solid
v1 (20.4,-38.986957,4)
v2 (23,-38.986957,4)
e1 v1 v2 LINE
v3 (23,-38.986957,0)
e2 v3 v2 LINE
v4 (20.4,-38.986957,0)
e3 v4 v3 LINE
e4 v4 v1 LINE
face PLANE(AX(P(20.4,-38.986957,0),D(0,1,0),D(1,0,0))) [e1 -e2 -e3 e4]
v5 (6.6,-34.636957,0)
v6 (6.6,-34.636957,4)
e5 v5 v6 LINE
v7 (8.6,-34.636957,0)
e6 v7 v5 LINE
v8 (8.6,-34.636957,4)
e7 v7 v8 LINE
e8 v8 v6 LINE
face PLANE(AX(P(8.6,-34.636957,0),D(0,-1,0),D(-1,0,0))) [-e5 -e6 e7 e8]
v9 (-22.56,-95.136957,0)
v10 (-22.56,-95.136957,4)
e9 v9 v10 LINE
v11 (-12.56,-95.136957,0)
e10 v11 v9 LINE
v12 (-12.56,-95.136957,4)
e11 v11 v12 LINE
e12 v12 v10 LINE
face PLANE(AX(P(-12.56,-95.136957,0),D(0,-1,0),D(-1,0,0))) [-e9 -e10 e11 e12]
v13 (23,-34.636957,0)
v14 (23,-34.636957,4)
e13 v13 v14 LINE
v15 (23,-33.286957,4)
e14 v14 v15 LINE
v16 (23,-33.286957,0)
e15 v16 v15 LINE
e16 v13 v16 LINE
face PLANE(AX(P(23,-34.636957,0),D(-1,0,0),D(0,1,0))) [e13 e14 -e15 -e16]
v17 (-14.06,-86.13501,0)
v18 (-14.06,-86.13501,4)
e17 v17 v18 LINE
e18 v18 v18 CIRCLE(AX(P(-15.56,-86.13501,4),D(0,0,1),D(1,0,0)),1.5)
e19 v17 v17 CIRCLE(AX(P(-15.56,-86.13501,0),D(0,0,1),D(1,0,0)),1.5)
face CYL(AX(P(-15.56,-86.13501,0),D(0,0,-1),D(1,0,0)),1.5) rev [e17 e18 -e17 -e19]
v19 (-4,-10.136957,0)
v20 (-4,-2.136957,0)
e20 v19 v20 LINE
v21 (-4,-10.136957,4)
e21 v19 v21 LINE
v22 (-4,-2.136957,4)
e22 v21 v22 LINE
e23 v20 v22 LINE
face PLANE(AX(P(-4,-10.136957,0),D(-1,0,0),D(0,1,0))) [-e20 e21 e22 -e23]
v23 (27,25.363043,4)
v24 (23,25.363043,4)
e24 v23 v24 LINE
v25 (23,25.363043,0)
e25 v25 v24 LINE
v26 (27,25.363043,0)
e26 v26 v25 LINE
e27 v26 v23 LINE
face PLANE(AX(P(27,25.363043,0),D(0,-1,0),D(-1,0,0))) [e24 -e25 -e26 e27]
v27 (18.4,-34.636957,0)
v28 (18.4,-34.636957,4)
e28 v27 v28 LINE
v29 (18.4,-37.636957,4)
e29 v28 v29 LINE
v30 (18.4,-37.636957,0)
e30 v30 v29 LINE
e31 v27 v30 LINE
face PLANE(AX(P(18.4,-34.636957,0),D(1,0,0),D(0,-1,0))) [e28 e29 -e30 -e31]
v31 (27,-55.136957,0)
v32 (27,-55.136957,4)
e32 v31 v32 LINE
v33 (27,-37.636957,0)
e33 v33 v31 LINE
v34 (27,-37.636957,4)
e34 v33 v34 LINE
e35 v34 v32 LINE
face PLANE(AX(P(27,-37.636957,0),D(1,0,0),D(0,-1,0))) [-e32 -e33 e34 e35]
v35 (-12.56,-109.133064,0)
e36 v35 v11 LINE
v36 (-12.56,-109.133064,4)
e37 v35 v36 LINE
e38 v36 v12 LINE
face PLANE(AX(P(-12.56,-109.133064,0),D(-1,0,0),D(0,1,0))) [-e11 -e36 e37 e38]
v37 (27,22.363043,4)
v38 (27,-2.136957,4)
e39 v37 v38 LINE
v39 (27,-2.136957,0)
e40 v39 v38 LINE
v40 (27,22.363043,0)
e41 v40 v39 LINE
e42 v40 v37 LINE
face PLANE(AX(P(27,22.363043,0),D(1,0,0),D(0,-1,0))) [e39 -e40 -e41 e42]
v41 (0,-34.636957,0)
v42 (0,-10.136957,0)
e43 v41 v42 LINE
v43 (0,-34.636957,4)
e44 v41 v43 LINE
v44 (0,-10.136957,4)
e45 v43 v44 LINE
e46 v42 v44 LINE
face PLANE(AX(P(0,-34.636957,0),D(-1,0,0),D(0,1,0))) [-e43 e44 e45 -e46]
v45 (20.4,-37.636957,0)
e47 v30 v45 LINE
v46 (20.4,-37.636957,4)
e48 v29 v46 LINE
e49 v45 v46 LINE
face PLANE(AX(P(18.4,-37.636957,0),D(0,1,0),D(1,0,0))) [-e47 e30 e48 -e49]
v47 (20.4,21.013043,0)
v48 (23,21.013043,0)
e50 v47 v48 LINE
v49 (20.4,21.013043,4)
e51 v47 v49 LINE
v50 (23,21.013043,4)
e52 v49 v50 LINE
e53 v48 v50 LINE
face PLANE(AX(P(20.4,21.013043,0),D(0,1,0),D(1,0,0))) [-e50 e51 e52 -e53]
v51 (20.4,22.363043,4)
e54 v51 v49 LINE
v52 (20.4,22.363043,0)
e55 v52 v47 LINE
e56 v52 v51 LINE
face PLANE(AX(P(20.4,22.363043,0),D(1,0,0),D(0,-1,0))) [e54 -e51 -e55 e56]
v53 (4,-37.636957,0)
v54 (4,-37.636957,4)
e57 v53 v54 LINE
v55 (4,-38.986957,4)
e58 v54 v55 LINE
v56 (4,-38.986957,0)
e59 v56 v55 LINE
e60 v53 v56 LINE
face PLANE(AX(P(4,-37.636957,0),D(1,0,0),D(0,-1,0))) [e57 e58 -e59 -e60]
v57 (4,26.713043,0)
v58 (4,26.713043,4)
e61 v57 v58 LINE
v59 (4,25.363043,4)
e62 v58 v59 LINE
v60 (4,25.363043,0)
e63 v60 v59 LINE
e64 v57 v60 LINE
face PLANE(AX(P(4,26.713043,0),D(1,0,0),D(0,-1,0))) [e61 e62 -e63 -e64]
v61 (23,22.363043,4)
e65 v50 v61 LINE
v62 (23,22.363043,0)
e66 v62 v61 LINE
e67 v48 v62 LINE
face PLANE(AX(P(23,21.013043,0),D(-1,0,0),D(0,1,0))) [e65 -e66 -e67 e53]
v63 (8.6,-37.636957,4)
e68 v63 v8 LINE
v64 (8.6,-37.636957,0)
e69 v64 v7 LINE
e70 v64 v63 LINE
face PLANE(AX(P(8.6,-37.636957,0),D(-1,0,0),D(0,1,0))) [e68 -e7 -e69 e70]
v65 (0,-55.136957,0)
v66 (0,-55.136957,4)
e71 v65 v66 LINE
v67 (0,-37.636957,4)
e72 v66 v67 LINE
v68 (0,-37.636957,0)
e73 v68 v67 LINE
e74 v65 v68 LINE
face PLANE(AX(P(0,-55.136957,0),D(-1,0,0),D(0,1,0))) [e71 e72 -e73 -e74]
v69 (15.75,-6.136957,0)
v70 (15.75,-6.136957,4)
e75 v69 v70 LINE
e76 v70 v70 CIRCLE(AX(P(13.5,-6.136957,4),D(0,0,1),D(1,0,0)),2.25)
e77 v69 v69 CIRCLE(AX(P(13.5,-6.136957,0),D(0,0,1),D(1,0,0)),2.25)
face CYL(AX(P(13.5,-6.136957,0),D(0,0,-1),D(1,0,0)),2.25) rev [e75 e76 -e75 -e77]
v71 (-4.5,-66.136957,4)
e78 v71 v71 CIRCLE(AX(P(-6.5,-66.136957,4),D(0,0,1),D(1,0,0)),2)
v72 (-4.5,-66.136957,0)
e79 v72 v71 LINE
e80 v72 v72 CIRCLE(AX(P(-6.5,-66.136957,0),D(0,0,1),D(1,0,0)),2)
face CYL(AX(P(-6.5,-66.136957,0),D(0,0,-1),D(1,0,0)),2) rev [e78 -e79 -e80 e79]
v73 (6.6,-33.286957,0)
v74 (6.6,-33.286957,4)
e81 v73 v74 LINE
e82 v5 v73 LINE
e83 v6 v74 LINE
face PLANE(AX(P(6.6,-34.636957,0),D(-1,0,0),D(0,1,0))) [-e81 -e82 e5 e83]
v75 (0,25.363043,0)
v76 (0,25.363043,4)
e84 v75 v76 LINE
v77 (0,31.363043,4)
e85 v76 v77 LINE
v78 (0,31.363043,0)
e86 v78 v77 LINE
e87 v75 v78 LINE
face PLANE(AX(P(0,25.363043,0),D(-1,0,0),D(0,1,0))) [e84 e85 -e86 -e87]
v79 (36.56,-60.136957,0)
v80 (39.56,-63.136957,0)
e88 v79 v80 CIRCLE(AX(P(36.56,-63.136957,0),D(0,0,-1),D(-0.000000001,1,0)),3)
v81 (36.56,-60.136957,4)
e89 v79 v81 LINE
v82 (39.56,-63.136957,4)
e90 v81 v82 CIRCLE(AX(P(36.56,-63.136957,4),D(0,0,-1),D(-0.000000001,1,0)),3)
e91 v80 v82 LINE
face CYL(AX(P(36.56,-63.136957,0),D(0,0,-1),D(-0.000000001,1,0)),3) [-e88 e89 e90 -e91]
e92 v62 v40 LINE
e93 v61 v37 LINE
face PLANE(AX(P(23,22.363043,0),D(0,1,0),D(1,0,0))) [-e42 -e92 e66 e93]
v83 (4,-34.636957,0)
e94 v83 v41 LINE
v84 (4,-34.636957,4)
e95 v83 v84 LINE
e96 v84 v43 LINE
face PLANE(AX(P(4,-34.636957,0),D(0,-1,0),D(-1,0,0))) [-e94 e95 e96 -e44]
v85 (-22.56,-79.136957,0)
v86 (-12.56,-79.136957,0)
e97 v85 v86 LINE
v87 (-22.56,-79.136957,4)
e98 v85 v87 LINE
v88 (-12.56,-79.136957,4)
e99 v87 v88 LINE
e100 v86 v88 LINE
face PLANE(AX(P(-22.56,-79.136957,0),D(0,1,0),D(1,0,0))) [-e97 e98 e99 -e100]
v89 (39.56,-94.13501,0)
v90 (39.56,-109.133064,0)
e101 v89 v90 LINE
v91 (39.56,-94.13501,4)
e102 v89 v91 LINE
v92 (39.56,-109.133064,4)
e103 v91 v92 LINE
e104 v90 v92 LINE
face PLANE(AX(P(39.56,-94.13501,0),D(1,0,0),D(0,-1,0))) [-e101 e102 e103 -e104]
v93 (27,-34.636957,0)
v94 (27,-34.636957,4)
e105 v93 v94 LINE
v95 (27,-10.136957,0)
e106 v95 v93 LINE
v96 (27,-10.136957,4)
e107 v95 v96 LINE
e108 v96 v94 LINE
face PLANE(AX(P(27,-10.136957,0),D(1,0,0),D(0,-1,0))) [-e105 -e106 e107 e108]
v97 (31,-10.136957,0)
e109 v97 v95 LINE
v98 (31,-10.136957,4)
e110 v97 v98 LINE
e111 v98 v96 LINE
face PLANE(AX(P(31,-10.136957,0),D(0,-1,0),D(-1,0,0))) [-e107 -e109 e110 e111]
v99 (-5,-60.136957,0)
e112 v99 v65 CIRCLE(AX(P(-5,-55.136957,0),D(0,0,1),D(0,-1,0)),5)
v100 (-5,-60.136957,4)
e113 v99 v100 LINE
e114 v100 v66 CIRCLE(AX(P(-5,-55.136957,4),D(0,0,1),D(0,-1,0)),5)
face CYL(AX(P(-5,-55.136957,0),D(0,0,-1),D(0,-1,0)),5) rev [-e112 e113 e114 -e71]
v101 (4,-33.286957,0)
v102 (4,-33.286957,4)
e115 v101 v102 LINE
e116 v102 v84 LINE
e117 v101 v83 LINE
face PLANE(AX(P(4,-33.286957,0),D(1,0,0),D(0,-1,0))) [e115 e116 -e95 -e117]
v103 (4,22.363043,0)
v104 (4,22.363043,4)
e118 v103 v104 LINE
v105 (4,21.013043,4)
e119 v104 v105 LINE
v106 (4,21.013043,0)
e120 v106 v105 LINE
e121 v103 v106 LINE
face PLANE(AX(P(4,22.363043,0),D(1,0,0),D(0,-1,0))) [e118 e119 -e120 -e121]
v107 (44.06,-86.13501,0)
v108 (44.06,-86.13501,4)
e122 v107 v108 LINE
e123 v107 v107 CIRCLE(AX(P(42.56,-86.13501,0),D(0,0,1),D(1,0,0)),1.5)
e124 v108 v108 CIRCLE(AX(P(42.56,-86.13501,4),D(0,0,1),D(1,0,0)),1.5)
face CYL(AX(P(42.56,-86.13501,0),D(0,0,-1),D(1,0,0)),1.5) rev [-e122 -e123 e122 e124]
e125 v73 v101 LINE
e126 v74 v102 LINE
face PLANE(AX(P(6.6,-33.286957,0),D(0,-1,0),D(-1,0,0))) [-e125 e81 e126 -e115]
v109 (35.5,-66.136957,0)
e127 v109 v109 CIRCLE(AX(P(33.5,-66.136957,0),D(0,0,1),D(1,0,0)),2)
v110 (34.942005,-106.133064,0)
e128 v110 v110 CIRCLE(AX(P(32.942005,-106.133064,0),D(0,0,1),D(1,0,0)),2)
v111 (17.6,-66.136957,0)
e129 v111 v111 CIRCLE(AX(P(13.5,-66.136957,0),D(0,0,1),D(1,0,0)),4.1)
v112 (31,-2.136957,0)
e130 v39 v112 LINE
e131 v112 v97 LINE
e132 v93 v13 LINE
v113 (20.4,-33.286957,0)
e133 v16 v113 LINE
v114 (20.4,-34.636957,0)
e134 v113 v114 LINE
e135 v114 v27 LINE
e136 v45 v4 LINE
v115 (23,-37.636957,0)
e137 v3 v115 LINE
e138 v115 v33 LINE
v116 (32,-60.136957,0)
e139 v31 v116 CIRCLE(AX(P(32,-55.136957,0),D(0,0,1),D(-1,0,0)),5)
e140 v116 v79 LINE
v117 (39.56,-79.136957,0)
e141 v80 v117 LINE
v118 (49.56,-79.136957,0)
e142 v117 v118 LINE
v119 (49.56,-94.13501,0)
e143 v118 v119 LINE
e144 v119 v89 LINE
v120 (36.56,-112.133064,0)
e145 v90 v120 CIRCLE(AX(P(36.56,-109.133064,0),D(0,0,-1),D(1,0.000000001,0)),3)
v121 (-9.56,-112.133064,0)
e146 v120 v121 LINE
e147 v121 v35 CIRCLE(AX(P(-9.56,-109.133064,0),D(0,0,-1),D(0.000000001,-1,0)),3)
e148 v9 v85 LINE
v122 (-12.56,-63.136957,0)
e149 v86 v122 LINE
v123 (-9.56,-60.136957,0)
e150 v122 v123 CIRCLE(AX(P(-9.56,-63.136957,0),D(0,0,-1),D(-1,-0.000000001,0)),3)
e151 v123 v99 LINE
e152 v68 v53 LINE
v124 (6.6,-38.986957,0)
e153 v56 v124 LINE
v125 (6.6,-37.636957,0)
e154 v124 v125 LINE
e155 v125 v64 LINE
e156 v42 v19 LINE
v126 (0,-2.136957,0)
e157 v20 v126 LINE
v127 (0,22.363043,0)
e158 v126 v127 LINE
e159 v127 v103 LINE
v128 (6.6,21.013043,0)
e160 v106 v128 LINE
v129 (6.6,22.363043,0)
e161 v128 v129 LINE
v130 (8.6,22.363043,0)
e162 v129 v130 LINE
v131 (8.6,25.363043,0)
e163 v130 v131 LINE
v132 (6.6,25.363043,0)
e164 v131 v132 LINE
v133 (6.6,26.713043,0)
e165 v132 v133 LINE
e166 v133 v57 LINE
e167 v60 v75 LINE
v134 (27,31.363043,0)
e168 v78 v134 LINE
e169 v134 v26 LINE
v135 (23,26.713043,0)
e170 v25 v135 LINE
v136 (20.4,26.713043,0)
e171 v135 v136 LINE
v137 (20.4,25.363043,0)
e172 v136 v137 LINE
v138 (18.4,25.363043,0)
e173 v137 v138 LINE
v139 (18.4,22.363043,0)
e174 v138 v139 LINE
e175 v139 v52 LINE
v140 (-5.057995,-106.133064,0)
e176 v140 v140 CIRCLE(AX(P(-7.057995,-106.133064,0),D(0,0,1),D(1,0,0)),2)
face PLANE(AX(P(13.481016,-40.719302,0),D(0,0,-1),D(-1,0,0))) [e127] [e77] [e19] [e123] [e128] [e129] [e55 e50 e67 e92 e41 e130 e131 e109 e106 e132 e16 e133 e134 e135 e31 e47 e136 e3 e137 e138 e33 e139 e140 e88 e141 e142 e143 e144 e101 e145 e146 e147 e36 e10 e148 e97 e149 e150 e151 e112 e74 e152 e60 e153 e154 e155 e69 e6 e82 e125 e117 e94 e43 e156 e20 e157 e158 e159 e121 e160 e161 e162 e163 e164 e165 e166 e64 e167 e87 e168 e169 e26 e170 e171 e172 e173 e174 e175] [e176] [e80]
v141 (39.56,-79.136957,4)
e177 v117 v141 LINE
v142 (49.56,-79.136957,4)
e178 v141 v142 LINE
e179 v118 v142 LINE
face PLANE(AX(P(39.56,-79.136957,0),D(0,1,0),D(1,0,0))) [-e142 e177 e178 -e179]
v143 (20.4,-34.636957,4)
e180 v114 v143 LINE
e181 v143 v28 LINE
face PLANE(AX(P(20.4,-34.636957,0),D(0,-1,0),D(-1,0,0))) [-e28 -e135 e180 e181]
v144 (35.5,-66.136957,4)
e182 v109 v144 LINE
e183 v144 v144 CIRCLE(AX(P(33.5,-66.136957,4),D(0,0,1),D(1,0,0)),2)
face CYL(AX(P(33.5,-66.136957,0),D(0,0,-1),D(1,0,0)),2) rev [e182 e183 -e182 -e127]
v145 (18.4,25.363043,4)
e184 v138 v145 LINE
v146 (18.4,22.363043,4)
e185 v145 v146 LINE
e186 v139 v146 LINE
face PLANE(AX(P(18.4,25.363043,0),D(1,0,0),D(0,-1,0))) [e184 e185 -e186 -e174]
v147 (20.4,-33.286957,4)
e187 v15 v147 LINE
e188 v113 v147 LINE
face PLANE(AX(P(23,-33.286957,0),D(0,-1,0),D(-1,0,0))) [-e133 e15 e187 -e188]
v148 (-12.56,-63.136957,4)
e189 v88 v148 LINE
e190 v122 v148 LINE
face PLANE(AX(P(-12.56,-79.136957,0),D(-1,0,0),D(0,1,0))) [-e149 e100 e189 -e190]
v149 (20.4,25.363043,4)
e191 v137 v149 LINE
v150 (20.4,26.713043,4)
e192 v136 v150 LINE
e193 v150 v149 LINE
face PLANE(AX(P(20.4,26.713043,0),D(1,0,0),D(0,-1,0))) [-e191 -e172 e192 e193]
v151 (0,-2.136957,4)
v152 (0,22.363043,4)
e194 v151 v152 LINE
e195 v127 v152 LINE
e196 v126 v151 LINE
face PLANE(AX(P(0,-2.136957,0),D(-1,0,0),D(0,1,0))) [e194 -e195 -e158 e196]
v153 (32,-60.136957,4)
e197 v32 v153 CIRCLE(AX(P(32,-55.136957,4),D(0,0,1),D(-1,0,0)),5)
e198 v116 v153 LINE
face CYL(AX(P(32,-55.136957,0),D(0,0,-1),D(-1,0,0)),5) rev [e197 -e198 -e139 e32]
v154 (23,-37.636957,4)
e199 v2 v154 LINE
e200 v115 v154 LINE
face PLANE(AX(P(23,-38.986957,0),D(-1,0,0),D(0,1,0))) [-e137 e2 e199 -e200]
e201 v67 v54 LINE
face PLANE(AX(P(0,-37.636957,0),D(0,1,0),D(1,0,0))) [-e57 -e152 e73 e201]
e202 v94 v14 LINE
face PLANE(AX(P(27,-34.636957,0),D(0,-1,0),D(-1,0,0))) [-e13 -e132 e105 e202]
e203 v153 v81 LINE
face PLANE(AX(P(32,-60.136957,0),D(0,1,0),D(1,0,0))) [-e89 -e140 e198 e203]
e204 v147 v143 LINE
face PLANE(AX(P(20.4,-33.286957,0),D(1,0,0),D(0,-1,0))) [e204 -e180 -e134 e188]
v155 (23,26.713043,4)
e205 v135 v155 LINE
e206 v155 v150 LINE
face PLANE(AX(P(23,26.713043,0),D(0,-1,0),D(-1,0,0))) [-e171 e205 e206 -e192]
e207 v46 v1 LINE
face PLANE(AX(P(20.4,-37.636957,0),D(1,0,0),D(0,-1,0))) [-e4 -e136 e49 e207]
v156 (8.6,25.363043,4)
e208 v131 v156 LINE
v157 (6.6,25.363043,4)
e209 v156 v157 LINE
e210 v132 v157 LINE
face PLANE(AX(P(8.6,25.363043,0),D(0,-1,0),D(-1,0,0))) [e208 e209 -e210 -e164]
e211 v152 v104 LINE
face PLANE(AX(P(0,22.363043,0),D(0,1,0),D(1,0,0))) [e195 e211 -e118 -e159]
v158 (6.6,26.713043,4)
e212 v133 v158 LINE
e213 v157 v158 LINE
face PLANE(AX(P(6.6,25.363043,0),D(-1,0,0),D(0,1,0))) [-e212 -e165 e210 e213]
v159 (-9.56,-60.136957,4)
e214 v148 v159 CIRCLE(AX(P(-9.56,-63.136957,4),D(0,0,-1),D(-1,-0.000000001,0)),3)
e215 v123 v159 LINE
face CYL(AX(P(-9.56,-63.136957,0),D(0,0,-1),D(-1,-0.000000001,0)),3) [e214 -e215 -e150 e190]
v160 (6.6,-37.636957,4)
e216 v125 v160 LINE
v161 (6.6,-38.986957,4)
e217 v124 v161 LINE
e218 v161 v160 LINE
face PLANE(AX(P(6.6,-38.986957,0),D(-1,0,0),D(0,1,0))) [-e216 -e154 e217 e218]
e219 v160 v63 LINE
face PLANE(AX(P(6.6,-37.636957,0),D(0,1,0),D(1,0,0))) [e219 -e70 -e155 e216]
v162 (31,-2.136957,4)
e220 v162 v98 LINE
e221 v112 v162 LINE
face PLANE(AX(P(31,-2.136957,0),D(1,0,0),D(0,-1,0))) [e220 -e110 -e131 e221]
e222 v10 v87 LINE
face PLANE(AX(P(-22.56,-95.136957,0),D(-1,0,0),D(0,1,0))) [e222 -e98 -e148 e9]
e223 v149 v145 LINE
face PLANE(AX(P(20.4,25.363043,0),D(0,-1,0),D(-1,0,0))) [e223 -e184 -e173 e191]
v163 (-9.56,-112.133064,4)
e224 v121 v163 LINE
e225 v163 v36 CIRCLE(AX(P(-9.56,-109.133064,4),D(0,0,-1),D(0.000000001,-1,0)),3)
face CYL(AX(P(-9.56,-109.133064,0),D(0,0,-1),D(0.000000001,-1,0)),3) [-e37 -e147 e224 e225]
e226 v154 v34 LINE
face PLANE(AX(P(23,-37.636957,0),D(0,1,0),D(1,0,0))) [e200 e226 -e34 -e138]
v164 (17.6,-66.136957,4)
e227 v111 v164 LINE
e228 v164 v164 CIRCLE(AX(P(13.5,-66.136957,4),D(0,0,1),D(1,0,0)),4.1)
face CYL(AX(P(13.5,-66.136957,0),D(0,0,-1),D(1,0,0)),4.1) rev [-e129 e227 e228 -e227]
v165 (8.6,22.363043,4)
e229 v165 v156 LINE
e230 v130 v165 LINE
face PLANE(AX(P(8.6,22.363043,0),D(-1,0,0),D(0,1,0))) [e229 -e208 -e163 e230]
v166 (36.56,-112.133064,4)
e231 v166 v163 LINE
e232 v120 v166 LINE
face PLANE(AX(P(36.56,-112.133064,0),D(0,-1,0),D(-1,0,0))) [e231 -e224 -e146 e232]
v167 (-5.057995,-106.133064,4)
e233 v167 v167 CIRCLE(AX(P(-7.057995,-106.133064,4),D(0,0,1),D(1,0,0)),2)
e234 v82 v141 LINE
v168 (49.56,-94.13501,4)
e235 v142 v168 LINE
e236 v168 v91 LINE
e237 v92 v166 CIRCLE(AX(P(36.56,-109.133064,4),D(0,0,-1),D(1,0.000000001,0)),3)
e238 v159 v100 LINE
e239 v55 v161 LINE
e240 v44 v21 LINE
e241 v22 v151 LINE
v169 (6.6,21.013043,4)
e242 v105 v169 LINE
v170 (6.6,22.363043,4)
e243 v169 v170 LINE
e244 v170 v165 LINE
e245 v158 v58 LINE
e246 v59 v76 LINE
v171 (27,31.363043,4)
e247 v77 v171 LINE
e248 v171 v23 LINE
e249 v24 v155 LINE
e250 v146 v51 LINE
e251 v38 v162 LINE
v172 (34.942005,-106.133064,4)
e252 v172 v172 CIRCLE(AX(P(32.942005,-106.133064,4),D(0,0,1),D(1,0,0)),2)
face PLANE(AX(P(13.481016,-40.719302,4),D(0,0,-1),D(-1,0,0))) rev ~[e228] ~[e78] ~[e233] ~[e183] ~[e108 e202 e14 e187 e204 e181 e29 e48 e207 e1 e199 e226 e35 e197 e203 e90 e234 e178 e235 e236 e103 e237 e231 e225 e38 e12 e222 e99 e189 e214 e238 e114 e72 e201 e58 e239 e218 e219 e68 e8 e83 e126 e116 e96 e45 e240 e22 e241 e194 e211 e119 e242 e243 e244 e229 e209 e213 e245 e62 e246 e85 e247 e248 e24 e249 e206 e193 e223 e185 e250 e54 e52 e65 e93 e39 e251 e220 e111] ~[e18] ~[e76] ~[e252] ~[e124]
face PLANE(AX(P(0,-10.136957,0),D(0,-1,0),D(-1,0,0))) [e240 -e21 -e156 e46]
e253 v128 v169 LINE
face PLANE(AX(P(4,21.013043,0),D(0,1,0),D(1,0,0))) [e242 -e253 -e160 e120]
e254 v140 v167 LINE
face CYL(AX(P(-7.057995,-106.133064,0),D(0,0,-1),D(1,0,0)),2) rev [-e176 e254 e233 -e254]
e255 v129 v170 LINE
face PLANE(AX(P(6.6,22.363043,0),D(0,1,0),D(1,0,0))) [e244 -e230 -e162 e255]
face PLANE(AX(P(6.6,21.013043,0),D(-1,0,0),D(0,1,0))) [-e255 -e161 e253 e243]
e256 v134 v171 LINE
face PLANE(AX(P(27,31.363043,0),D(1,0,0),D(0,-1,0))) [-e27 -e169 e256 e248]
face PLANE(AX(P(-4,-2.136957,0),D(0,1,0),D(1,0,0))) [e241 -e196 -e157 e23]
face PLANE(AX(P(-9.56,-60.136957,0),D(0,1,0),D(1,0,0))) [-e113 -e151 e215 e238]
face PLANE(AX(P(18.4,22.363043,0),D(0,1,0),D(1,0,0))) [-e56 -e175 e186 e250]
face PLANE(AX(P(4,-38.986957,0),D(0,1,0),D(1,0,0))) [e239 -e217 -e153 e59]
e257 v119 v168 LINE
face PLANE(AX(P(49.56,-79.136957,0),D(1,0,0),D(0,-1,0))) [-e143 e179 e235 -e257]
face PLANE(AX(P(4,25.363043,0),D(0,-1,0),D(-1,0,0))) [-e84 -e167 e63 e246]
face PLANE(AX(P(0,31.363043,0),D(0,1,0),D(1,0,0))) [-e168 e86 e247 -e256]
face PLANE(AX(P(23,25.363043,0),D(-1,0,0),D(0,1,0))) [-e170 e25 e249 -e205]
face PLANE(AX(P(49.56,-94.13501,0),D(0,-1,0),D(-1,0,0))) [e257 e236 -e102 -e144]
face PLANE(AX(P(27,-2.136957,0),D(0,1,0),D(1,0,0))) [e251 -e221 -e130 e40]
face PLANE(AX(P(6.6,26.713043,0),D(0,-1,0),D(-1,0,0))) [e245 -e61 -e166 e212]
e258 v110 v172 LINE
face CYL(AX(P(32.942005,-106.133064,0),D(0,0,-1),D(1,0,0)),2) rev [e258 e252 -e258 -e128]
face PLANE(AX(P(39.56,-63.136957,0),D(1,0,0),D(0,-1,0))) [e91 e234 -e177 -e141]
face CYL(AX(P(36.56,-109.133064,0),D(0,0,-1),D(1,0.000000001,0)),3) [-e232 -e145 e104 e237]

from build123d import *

# Parameters (mm, degrees)
SKETCH_1_R      = 2.25
SKETCH_1_R_2    = 2
SKETCH_1_R_3    = 4.1
SKETCH_1_R_4    = 1.5
EXTRUDE_1_DEPTH = 4


with BuildPart() as part:
    # 草图1 → 凸台-拉伸1 (new body)
    with BuildSketch(Plane.XY):
        with BuildLine():
            Line((0, -10.136956522), (-4, -10.136956522))
            Line((-4, -10.136956522), (-4, -2.136956522))
            Line((-4, -2.136956522), (0, -2.136956522))
            Line((0, -2.136956522), (0, 22.363043478))
            Line((0, 22.363043478), (4, 22.363043478))
            Line((4, 22.363043478), (4, 21.013043478))
            Line((4, 21.013043478), (6.6, 21.013043478))
            Line((6.6, 21.013043478), (6.6, 22.363043478))
            Line((6.6, 22.363043478), (8.6, 22.363043478))
            Line((8.6, 22.363043478), (8.6, 25.363043478))
            Line((8.6, 25.363043478), (6.6, 25.363043478))
            Line((6.6, 25.363043478), (6.6, 26.713043478))
            Line((6.6, 26.713043478), (4, 26.713043478))
            Line((4, 26.713043478), (4, 25.363043478))
            Line((4, 25.363043478), (0, 25.363043478))
            Line((0, 25.363043478), (0, 31.363043478))
            Line((0, 31.363043478), (27, 31.363043478))
            Line((27, 31.363043478), (27, 25.363043478))
            Line((27, 25.363043478), (23, 25.363043478))
            Line((23, 25.363043478), (23, 26.713043478))
            Line((23, 26.713043478), (20.4, 26.713043478))
            Line((20.4, 26.713043478), (20.4, 25.363043478))
            Line((20.4, 25.363043478), (18.4, 25.363043478))
            Line((18.4, 25.363043478), (18.4, 22.363043478))
            Line((18.4, 22.363043478), (20.4, 22.363043478))
            Line((20.4, 22.363043478), (20.4, 21.013043478))
            Line((20.4, 21.013043478), (23, 21.013043478))
            Line((23, 21.013043478), (23, 22.363043478))
            Line((23, 22.363043478), (27, 22.363043478))
            Line((27, 22.363043478), (27, -2.136956522))
            Line((27, -2.136956522), (31, -2.136956522))
            Line((31, -2.136956522), (31, -10.136956522))
            Line((31, -10.136956522), (27, -10.136956522))
            Line((27, -10.136956522), (27, -34.636956522))
            Line((27, -34.636956522), (23, -34.636956522))
            Line((23, -34.636956522), (23, -33.286956522))
            Line((23, -33.286956522), (20.4, -33.286956522))
            Line((20.4, -33.286956522), (20.4, -34.636956522))
            Line((20.4, -34.636956522), (18.4, -34.636956522))
            Line((18.4, -34.636956522), (18.4, -37.636956522))
            Line((18.4, -37.636956522), (20.4, -37.636956522))
            Line((20.4, -37.636956522), (20.4, -38.986956522))
            Line((20.4, -38.986956522), (23, -38.986956522))
            Line((23, -38.986956522), (23, -37.636956522))
            Line((23, -37.636956522), (27, -37.636956522))
            Line((27, -37.636956522), (27, -55.136956522))
            ThreePointArc((27, -55.136956522), (28.464466094, -58.672490428), (32, -60.136956522))
            Line((32, -60.136956522), (36.56, -60.136956522))
            ThreePointArc((36.56, -60.136956522), (38.681320344, -61.015636178), (39.56, -63.136956522))
            Line((39.56, -63.136956522), (39.56, -79.136956522))
            Line((39.56, -79.136956522), (49.56, -79.136956522))
            Line((49.56, -79.136956522), (49.56, -94.135010438))
            Line((49.56, -94.135010438), (39.56, -94.135010438))
            Line((39.56, -94.135010438), (39.56, -109.133064354))
            ThreePointArc((39.56, -109.133064354), (38.681320344, -111.254384698), (36.56, -112.133064354))
            Line((36.56, -112.133064354), (-9.56, -112.133064354))
            ThreePointArc((-9.56, -112.133064354), (-11.681320344, -111.254384698), (-12.56, -109.133064354))
            Line((-12.56, -109.133064354), (-12.56, -95.136956522))
            Line((-12.56, -95.136956522), (-22.56, -95.136956522))
            Line((-22.56, -95.136956522), (-22.56, -79.136956522))
            Line((-22.56, -79.136956522), (-12.56, -79.136956522))
            Line((-12.56, -79.136956522), (-12.56, -63.136956522))
            ThreePointArc((-12.56, -63.136956522), (-11.681320344, -61.015636178), (-9.56, -60.136956522))
            Line((-9.56, -60.136956522), (-5, -60.136956522))
            ThreePointArc((-5, -60.136956522), (-1.464466094, -58.672490428), (0, -55.136956522))
            Line((0, -55.136956522), (0, -37.636956522))
            Line((0, -37.636956522), (4, -37.636956522))
            Line((4, -37.636956522), (4, -38.986956522))
            Line((4, -38.986956522), (6.6, -38.986956522))
            Line((6.6, -38.986956522), (6.6, -37.636956522))
            Line((6.6, -37.636956522), (8.6, -37.636956522))
            Line((8.6, -37.636956522), (8.6, -34.636956522))
            Line((8.6, -34.636956522), (6.6, -34.636956522))
            Line((6.6, -34.636956522), (6.6, -33.286956522))
            Line((6.6, -33.286956522), (4, -33.286956522))
            Line((4, -33.286956522), (4, -34.636956522))
            Line((4, -34.636956522), (0, -34.636956522))
            Line((0, -34.636956522), (0, -10.136956522))
        make_face()
        with Locations((13.5, -6.136956522)):
            Circle(SKETCH_1_R, mode=Mode.SUBTRACT)
        with Locations((-6.5, -66.136956522)):
            Circle(SKETCH_1_R_2, mode=Mode.SUBTRACT)
        with Locations((-7.057994831, -106.133064354)):
            Circle(SKETCH_1_R_2, mode=Mode.SUBTRACT)
        with Locations((32.942005169, -106.133064354)):
            Circle(SKETCH_1_R_2, mode=Mode.SUBTRACT)
        with Locations((33.5, -66.136956522)):
            Circle(SKETCH_1_R_2, mode=Mode.SUBTRACT)
        with Locations((13.5, -66.136956522)):
            Circle(SKETCH_1_R_3, mode=Mode.SUBTRACT)
        with Locations((-15.56, -86.135010438)):
            Circle(SKETCH_1_R_4, mode=Mode.SUBTRACT)
        with Locations((42.56, -86.135010438)):
            Circle(SKETCH_1_R_4, mode=Mode.SUBTRACT)
    extrude(amount=EXTRUDE_1_DEPTH)


solid = part.part
